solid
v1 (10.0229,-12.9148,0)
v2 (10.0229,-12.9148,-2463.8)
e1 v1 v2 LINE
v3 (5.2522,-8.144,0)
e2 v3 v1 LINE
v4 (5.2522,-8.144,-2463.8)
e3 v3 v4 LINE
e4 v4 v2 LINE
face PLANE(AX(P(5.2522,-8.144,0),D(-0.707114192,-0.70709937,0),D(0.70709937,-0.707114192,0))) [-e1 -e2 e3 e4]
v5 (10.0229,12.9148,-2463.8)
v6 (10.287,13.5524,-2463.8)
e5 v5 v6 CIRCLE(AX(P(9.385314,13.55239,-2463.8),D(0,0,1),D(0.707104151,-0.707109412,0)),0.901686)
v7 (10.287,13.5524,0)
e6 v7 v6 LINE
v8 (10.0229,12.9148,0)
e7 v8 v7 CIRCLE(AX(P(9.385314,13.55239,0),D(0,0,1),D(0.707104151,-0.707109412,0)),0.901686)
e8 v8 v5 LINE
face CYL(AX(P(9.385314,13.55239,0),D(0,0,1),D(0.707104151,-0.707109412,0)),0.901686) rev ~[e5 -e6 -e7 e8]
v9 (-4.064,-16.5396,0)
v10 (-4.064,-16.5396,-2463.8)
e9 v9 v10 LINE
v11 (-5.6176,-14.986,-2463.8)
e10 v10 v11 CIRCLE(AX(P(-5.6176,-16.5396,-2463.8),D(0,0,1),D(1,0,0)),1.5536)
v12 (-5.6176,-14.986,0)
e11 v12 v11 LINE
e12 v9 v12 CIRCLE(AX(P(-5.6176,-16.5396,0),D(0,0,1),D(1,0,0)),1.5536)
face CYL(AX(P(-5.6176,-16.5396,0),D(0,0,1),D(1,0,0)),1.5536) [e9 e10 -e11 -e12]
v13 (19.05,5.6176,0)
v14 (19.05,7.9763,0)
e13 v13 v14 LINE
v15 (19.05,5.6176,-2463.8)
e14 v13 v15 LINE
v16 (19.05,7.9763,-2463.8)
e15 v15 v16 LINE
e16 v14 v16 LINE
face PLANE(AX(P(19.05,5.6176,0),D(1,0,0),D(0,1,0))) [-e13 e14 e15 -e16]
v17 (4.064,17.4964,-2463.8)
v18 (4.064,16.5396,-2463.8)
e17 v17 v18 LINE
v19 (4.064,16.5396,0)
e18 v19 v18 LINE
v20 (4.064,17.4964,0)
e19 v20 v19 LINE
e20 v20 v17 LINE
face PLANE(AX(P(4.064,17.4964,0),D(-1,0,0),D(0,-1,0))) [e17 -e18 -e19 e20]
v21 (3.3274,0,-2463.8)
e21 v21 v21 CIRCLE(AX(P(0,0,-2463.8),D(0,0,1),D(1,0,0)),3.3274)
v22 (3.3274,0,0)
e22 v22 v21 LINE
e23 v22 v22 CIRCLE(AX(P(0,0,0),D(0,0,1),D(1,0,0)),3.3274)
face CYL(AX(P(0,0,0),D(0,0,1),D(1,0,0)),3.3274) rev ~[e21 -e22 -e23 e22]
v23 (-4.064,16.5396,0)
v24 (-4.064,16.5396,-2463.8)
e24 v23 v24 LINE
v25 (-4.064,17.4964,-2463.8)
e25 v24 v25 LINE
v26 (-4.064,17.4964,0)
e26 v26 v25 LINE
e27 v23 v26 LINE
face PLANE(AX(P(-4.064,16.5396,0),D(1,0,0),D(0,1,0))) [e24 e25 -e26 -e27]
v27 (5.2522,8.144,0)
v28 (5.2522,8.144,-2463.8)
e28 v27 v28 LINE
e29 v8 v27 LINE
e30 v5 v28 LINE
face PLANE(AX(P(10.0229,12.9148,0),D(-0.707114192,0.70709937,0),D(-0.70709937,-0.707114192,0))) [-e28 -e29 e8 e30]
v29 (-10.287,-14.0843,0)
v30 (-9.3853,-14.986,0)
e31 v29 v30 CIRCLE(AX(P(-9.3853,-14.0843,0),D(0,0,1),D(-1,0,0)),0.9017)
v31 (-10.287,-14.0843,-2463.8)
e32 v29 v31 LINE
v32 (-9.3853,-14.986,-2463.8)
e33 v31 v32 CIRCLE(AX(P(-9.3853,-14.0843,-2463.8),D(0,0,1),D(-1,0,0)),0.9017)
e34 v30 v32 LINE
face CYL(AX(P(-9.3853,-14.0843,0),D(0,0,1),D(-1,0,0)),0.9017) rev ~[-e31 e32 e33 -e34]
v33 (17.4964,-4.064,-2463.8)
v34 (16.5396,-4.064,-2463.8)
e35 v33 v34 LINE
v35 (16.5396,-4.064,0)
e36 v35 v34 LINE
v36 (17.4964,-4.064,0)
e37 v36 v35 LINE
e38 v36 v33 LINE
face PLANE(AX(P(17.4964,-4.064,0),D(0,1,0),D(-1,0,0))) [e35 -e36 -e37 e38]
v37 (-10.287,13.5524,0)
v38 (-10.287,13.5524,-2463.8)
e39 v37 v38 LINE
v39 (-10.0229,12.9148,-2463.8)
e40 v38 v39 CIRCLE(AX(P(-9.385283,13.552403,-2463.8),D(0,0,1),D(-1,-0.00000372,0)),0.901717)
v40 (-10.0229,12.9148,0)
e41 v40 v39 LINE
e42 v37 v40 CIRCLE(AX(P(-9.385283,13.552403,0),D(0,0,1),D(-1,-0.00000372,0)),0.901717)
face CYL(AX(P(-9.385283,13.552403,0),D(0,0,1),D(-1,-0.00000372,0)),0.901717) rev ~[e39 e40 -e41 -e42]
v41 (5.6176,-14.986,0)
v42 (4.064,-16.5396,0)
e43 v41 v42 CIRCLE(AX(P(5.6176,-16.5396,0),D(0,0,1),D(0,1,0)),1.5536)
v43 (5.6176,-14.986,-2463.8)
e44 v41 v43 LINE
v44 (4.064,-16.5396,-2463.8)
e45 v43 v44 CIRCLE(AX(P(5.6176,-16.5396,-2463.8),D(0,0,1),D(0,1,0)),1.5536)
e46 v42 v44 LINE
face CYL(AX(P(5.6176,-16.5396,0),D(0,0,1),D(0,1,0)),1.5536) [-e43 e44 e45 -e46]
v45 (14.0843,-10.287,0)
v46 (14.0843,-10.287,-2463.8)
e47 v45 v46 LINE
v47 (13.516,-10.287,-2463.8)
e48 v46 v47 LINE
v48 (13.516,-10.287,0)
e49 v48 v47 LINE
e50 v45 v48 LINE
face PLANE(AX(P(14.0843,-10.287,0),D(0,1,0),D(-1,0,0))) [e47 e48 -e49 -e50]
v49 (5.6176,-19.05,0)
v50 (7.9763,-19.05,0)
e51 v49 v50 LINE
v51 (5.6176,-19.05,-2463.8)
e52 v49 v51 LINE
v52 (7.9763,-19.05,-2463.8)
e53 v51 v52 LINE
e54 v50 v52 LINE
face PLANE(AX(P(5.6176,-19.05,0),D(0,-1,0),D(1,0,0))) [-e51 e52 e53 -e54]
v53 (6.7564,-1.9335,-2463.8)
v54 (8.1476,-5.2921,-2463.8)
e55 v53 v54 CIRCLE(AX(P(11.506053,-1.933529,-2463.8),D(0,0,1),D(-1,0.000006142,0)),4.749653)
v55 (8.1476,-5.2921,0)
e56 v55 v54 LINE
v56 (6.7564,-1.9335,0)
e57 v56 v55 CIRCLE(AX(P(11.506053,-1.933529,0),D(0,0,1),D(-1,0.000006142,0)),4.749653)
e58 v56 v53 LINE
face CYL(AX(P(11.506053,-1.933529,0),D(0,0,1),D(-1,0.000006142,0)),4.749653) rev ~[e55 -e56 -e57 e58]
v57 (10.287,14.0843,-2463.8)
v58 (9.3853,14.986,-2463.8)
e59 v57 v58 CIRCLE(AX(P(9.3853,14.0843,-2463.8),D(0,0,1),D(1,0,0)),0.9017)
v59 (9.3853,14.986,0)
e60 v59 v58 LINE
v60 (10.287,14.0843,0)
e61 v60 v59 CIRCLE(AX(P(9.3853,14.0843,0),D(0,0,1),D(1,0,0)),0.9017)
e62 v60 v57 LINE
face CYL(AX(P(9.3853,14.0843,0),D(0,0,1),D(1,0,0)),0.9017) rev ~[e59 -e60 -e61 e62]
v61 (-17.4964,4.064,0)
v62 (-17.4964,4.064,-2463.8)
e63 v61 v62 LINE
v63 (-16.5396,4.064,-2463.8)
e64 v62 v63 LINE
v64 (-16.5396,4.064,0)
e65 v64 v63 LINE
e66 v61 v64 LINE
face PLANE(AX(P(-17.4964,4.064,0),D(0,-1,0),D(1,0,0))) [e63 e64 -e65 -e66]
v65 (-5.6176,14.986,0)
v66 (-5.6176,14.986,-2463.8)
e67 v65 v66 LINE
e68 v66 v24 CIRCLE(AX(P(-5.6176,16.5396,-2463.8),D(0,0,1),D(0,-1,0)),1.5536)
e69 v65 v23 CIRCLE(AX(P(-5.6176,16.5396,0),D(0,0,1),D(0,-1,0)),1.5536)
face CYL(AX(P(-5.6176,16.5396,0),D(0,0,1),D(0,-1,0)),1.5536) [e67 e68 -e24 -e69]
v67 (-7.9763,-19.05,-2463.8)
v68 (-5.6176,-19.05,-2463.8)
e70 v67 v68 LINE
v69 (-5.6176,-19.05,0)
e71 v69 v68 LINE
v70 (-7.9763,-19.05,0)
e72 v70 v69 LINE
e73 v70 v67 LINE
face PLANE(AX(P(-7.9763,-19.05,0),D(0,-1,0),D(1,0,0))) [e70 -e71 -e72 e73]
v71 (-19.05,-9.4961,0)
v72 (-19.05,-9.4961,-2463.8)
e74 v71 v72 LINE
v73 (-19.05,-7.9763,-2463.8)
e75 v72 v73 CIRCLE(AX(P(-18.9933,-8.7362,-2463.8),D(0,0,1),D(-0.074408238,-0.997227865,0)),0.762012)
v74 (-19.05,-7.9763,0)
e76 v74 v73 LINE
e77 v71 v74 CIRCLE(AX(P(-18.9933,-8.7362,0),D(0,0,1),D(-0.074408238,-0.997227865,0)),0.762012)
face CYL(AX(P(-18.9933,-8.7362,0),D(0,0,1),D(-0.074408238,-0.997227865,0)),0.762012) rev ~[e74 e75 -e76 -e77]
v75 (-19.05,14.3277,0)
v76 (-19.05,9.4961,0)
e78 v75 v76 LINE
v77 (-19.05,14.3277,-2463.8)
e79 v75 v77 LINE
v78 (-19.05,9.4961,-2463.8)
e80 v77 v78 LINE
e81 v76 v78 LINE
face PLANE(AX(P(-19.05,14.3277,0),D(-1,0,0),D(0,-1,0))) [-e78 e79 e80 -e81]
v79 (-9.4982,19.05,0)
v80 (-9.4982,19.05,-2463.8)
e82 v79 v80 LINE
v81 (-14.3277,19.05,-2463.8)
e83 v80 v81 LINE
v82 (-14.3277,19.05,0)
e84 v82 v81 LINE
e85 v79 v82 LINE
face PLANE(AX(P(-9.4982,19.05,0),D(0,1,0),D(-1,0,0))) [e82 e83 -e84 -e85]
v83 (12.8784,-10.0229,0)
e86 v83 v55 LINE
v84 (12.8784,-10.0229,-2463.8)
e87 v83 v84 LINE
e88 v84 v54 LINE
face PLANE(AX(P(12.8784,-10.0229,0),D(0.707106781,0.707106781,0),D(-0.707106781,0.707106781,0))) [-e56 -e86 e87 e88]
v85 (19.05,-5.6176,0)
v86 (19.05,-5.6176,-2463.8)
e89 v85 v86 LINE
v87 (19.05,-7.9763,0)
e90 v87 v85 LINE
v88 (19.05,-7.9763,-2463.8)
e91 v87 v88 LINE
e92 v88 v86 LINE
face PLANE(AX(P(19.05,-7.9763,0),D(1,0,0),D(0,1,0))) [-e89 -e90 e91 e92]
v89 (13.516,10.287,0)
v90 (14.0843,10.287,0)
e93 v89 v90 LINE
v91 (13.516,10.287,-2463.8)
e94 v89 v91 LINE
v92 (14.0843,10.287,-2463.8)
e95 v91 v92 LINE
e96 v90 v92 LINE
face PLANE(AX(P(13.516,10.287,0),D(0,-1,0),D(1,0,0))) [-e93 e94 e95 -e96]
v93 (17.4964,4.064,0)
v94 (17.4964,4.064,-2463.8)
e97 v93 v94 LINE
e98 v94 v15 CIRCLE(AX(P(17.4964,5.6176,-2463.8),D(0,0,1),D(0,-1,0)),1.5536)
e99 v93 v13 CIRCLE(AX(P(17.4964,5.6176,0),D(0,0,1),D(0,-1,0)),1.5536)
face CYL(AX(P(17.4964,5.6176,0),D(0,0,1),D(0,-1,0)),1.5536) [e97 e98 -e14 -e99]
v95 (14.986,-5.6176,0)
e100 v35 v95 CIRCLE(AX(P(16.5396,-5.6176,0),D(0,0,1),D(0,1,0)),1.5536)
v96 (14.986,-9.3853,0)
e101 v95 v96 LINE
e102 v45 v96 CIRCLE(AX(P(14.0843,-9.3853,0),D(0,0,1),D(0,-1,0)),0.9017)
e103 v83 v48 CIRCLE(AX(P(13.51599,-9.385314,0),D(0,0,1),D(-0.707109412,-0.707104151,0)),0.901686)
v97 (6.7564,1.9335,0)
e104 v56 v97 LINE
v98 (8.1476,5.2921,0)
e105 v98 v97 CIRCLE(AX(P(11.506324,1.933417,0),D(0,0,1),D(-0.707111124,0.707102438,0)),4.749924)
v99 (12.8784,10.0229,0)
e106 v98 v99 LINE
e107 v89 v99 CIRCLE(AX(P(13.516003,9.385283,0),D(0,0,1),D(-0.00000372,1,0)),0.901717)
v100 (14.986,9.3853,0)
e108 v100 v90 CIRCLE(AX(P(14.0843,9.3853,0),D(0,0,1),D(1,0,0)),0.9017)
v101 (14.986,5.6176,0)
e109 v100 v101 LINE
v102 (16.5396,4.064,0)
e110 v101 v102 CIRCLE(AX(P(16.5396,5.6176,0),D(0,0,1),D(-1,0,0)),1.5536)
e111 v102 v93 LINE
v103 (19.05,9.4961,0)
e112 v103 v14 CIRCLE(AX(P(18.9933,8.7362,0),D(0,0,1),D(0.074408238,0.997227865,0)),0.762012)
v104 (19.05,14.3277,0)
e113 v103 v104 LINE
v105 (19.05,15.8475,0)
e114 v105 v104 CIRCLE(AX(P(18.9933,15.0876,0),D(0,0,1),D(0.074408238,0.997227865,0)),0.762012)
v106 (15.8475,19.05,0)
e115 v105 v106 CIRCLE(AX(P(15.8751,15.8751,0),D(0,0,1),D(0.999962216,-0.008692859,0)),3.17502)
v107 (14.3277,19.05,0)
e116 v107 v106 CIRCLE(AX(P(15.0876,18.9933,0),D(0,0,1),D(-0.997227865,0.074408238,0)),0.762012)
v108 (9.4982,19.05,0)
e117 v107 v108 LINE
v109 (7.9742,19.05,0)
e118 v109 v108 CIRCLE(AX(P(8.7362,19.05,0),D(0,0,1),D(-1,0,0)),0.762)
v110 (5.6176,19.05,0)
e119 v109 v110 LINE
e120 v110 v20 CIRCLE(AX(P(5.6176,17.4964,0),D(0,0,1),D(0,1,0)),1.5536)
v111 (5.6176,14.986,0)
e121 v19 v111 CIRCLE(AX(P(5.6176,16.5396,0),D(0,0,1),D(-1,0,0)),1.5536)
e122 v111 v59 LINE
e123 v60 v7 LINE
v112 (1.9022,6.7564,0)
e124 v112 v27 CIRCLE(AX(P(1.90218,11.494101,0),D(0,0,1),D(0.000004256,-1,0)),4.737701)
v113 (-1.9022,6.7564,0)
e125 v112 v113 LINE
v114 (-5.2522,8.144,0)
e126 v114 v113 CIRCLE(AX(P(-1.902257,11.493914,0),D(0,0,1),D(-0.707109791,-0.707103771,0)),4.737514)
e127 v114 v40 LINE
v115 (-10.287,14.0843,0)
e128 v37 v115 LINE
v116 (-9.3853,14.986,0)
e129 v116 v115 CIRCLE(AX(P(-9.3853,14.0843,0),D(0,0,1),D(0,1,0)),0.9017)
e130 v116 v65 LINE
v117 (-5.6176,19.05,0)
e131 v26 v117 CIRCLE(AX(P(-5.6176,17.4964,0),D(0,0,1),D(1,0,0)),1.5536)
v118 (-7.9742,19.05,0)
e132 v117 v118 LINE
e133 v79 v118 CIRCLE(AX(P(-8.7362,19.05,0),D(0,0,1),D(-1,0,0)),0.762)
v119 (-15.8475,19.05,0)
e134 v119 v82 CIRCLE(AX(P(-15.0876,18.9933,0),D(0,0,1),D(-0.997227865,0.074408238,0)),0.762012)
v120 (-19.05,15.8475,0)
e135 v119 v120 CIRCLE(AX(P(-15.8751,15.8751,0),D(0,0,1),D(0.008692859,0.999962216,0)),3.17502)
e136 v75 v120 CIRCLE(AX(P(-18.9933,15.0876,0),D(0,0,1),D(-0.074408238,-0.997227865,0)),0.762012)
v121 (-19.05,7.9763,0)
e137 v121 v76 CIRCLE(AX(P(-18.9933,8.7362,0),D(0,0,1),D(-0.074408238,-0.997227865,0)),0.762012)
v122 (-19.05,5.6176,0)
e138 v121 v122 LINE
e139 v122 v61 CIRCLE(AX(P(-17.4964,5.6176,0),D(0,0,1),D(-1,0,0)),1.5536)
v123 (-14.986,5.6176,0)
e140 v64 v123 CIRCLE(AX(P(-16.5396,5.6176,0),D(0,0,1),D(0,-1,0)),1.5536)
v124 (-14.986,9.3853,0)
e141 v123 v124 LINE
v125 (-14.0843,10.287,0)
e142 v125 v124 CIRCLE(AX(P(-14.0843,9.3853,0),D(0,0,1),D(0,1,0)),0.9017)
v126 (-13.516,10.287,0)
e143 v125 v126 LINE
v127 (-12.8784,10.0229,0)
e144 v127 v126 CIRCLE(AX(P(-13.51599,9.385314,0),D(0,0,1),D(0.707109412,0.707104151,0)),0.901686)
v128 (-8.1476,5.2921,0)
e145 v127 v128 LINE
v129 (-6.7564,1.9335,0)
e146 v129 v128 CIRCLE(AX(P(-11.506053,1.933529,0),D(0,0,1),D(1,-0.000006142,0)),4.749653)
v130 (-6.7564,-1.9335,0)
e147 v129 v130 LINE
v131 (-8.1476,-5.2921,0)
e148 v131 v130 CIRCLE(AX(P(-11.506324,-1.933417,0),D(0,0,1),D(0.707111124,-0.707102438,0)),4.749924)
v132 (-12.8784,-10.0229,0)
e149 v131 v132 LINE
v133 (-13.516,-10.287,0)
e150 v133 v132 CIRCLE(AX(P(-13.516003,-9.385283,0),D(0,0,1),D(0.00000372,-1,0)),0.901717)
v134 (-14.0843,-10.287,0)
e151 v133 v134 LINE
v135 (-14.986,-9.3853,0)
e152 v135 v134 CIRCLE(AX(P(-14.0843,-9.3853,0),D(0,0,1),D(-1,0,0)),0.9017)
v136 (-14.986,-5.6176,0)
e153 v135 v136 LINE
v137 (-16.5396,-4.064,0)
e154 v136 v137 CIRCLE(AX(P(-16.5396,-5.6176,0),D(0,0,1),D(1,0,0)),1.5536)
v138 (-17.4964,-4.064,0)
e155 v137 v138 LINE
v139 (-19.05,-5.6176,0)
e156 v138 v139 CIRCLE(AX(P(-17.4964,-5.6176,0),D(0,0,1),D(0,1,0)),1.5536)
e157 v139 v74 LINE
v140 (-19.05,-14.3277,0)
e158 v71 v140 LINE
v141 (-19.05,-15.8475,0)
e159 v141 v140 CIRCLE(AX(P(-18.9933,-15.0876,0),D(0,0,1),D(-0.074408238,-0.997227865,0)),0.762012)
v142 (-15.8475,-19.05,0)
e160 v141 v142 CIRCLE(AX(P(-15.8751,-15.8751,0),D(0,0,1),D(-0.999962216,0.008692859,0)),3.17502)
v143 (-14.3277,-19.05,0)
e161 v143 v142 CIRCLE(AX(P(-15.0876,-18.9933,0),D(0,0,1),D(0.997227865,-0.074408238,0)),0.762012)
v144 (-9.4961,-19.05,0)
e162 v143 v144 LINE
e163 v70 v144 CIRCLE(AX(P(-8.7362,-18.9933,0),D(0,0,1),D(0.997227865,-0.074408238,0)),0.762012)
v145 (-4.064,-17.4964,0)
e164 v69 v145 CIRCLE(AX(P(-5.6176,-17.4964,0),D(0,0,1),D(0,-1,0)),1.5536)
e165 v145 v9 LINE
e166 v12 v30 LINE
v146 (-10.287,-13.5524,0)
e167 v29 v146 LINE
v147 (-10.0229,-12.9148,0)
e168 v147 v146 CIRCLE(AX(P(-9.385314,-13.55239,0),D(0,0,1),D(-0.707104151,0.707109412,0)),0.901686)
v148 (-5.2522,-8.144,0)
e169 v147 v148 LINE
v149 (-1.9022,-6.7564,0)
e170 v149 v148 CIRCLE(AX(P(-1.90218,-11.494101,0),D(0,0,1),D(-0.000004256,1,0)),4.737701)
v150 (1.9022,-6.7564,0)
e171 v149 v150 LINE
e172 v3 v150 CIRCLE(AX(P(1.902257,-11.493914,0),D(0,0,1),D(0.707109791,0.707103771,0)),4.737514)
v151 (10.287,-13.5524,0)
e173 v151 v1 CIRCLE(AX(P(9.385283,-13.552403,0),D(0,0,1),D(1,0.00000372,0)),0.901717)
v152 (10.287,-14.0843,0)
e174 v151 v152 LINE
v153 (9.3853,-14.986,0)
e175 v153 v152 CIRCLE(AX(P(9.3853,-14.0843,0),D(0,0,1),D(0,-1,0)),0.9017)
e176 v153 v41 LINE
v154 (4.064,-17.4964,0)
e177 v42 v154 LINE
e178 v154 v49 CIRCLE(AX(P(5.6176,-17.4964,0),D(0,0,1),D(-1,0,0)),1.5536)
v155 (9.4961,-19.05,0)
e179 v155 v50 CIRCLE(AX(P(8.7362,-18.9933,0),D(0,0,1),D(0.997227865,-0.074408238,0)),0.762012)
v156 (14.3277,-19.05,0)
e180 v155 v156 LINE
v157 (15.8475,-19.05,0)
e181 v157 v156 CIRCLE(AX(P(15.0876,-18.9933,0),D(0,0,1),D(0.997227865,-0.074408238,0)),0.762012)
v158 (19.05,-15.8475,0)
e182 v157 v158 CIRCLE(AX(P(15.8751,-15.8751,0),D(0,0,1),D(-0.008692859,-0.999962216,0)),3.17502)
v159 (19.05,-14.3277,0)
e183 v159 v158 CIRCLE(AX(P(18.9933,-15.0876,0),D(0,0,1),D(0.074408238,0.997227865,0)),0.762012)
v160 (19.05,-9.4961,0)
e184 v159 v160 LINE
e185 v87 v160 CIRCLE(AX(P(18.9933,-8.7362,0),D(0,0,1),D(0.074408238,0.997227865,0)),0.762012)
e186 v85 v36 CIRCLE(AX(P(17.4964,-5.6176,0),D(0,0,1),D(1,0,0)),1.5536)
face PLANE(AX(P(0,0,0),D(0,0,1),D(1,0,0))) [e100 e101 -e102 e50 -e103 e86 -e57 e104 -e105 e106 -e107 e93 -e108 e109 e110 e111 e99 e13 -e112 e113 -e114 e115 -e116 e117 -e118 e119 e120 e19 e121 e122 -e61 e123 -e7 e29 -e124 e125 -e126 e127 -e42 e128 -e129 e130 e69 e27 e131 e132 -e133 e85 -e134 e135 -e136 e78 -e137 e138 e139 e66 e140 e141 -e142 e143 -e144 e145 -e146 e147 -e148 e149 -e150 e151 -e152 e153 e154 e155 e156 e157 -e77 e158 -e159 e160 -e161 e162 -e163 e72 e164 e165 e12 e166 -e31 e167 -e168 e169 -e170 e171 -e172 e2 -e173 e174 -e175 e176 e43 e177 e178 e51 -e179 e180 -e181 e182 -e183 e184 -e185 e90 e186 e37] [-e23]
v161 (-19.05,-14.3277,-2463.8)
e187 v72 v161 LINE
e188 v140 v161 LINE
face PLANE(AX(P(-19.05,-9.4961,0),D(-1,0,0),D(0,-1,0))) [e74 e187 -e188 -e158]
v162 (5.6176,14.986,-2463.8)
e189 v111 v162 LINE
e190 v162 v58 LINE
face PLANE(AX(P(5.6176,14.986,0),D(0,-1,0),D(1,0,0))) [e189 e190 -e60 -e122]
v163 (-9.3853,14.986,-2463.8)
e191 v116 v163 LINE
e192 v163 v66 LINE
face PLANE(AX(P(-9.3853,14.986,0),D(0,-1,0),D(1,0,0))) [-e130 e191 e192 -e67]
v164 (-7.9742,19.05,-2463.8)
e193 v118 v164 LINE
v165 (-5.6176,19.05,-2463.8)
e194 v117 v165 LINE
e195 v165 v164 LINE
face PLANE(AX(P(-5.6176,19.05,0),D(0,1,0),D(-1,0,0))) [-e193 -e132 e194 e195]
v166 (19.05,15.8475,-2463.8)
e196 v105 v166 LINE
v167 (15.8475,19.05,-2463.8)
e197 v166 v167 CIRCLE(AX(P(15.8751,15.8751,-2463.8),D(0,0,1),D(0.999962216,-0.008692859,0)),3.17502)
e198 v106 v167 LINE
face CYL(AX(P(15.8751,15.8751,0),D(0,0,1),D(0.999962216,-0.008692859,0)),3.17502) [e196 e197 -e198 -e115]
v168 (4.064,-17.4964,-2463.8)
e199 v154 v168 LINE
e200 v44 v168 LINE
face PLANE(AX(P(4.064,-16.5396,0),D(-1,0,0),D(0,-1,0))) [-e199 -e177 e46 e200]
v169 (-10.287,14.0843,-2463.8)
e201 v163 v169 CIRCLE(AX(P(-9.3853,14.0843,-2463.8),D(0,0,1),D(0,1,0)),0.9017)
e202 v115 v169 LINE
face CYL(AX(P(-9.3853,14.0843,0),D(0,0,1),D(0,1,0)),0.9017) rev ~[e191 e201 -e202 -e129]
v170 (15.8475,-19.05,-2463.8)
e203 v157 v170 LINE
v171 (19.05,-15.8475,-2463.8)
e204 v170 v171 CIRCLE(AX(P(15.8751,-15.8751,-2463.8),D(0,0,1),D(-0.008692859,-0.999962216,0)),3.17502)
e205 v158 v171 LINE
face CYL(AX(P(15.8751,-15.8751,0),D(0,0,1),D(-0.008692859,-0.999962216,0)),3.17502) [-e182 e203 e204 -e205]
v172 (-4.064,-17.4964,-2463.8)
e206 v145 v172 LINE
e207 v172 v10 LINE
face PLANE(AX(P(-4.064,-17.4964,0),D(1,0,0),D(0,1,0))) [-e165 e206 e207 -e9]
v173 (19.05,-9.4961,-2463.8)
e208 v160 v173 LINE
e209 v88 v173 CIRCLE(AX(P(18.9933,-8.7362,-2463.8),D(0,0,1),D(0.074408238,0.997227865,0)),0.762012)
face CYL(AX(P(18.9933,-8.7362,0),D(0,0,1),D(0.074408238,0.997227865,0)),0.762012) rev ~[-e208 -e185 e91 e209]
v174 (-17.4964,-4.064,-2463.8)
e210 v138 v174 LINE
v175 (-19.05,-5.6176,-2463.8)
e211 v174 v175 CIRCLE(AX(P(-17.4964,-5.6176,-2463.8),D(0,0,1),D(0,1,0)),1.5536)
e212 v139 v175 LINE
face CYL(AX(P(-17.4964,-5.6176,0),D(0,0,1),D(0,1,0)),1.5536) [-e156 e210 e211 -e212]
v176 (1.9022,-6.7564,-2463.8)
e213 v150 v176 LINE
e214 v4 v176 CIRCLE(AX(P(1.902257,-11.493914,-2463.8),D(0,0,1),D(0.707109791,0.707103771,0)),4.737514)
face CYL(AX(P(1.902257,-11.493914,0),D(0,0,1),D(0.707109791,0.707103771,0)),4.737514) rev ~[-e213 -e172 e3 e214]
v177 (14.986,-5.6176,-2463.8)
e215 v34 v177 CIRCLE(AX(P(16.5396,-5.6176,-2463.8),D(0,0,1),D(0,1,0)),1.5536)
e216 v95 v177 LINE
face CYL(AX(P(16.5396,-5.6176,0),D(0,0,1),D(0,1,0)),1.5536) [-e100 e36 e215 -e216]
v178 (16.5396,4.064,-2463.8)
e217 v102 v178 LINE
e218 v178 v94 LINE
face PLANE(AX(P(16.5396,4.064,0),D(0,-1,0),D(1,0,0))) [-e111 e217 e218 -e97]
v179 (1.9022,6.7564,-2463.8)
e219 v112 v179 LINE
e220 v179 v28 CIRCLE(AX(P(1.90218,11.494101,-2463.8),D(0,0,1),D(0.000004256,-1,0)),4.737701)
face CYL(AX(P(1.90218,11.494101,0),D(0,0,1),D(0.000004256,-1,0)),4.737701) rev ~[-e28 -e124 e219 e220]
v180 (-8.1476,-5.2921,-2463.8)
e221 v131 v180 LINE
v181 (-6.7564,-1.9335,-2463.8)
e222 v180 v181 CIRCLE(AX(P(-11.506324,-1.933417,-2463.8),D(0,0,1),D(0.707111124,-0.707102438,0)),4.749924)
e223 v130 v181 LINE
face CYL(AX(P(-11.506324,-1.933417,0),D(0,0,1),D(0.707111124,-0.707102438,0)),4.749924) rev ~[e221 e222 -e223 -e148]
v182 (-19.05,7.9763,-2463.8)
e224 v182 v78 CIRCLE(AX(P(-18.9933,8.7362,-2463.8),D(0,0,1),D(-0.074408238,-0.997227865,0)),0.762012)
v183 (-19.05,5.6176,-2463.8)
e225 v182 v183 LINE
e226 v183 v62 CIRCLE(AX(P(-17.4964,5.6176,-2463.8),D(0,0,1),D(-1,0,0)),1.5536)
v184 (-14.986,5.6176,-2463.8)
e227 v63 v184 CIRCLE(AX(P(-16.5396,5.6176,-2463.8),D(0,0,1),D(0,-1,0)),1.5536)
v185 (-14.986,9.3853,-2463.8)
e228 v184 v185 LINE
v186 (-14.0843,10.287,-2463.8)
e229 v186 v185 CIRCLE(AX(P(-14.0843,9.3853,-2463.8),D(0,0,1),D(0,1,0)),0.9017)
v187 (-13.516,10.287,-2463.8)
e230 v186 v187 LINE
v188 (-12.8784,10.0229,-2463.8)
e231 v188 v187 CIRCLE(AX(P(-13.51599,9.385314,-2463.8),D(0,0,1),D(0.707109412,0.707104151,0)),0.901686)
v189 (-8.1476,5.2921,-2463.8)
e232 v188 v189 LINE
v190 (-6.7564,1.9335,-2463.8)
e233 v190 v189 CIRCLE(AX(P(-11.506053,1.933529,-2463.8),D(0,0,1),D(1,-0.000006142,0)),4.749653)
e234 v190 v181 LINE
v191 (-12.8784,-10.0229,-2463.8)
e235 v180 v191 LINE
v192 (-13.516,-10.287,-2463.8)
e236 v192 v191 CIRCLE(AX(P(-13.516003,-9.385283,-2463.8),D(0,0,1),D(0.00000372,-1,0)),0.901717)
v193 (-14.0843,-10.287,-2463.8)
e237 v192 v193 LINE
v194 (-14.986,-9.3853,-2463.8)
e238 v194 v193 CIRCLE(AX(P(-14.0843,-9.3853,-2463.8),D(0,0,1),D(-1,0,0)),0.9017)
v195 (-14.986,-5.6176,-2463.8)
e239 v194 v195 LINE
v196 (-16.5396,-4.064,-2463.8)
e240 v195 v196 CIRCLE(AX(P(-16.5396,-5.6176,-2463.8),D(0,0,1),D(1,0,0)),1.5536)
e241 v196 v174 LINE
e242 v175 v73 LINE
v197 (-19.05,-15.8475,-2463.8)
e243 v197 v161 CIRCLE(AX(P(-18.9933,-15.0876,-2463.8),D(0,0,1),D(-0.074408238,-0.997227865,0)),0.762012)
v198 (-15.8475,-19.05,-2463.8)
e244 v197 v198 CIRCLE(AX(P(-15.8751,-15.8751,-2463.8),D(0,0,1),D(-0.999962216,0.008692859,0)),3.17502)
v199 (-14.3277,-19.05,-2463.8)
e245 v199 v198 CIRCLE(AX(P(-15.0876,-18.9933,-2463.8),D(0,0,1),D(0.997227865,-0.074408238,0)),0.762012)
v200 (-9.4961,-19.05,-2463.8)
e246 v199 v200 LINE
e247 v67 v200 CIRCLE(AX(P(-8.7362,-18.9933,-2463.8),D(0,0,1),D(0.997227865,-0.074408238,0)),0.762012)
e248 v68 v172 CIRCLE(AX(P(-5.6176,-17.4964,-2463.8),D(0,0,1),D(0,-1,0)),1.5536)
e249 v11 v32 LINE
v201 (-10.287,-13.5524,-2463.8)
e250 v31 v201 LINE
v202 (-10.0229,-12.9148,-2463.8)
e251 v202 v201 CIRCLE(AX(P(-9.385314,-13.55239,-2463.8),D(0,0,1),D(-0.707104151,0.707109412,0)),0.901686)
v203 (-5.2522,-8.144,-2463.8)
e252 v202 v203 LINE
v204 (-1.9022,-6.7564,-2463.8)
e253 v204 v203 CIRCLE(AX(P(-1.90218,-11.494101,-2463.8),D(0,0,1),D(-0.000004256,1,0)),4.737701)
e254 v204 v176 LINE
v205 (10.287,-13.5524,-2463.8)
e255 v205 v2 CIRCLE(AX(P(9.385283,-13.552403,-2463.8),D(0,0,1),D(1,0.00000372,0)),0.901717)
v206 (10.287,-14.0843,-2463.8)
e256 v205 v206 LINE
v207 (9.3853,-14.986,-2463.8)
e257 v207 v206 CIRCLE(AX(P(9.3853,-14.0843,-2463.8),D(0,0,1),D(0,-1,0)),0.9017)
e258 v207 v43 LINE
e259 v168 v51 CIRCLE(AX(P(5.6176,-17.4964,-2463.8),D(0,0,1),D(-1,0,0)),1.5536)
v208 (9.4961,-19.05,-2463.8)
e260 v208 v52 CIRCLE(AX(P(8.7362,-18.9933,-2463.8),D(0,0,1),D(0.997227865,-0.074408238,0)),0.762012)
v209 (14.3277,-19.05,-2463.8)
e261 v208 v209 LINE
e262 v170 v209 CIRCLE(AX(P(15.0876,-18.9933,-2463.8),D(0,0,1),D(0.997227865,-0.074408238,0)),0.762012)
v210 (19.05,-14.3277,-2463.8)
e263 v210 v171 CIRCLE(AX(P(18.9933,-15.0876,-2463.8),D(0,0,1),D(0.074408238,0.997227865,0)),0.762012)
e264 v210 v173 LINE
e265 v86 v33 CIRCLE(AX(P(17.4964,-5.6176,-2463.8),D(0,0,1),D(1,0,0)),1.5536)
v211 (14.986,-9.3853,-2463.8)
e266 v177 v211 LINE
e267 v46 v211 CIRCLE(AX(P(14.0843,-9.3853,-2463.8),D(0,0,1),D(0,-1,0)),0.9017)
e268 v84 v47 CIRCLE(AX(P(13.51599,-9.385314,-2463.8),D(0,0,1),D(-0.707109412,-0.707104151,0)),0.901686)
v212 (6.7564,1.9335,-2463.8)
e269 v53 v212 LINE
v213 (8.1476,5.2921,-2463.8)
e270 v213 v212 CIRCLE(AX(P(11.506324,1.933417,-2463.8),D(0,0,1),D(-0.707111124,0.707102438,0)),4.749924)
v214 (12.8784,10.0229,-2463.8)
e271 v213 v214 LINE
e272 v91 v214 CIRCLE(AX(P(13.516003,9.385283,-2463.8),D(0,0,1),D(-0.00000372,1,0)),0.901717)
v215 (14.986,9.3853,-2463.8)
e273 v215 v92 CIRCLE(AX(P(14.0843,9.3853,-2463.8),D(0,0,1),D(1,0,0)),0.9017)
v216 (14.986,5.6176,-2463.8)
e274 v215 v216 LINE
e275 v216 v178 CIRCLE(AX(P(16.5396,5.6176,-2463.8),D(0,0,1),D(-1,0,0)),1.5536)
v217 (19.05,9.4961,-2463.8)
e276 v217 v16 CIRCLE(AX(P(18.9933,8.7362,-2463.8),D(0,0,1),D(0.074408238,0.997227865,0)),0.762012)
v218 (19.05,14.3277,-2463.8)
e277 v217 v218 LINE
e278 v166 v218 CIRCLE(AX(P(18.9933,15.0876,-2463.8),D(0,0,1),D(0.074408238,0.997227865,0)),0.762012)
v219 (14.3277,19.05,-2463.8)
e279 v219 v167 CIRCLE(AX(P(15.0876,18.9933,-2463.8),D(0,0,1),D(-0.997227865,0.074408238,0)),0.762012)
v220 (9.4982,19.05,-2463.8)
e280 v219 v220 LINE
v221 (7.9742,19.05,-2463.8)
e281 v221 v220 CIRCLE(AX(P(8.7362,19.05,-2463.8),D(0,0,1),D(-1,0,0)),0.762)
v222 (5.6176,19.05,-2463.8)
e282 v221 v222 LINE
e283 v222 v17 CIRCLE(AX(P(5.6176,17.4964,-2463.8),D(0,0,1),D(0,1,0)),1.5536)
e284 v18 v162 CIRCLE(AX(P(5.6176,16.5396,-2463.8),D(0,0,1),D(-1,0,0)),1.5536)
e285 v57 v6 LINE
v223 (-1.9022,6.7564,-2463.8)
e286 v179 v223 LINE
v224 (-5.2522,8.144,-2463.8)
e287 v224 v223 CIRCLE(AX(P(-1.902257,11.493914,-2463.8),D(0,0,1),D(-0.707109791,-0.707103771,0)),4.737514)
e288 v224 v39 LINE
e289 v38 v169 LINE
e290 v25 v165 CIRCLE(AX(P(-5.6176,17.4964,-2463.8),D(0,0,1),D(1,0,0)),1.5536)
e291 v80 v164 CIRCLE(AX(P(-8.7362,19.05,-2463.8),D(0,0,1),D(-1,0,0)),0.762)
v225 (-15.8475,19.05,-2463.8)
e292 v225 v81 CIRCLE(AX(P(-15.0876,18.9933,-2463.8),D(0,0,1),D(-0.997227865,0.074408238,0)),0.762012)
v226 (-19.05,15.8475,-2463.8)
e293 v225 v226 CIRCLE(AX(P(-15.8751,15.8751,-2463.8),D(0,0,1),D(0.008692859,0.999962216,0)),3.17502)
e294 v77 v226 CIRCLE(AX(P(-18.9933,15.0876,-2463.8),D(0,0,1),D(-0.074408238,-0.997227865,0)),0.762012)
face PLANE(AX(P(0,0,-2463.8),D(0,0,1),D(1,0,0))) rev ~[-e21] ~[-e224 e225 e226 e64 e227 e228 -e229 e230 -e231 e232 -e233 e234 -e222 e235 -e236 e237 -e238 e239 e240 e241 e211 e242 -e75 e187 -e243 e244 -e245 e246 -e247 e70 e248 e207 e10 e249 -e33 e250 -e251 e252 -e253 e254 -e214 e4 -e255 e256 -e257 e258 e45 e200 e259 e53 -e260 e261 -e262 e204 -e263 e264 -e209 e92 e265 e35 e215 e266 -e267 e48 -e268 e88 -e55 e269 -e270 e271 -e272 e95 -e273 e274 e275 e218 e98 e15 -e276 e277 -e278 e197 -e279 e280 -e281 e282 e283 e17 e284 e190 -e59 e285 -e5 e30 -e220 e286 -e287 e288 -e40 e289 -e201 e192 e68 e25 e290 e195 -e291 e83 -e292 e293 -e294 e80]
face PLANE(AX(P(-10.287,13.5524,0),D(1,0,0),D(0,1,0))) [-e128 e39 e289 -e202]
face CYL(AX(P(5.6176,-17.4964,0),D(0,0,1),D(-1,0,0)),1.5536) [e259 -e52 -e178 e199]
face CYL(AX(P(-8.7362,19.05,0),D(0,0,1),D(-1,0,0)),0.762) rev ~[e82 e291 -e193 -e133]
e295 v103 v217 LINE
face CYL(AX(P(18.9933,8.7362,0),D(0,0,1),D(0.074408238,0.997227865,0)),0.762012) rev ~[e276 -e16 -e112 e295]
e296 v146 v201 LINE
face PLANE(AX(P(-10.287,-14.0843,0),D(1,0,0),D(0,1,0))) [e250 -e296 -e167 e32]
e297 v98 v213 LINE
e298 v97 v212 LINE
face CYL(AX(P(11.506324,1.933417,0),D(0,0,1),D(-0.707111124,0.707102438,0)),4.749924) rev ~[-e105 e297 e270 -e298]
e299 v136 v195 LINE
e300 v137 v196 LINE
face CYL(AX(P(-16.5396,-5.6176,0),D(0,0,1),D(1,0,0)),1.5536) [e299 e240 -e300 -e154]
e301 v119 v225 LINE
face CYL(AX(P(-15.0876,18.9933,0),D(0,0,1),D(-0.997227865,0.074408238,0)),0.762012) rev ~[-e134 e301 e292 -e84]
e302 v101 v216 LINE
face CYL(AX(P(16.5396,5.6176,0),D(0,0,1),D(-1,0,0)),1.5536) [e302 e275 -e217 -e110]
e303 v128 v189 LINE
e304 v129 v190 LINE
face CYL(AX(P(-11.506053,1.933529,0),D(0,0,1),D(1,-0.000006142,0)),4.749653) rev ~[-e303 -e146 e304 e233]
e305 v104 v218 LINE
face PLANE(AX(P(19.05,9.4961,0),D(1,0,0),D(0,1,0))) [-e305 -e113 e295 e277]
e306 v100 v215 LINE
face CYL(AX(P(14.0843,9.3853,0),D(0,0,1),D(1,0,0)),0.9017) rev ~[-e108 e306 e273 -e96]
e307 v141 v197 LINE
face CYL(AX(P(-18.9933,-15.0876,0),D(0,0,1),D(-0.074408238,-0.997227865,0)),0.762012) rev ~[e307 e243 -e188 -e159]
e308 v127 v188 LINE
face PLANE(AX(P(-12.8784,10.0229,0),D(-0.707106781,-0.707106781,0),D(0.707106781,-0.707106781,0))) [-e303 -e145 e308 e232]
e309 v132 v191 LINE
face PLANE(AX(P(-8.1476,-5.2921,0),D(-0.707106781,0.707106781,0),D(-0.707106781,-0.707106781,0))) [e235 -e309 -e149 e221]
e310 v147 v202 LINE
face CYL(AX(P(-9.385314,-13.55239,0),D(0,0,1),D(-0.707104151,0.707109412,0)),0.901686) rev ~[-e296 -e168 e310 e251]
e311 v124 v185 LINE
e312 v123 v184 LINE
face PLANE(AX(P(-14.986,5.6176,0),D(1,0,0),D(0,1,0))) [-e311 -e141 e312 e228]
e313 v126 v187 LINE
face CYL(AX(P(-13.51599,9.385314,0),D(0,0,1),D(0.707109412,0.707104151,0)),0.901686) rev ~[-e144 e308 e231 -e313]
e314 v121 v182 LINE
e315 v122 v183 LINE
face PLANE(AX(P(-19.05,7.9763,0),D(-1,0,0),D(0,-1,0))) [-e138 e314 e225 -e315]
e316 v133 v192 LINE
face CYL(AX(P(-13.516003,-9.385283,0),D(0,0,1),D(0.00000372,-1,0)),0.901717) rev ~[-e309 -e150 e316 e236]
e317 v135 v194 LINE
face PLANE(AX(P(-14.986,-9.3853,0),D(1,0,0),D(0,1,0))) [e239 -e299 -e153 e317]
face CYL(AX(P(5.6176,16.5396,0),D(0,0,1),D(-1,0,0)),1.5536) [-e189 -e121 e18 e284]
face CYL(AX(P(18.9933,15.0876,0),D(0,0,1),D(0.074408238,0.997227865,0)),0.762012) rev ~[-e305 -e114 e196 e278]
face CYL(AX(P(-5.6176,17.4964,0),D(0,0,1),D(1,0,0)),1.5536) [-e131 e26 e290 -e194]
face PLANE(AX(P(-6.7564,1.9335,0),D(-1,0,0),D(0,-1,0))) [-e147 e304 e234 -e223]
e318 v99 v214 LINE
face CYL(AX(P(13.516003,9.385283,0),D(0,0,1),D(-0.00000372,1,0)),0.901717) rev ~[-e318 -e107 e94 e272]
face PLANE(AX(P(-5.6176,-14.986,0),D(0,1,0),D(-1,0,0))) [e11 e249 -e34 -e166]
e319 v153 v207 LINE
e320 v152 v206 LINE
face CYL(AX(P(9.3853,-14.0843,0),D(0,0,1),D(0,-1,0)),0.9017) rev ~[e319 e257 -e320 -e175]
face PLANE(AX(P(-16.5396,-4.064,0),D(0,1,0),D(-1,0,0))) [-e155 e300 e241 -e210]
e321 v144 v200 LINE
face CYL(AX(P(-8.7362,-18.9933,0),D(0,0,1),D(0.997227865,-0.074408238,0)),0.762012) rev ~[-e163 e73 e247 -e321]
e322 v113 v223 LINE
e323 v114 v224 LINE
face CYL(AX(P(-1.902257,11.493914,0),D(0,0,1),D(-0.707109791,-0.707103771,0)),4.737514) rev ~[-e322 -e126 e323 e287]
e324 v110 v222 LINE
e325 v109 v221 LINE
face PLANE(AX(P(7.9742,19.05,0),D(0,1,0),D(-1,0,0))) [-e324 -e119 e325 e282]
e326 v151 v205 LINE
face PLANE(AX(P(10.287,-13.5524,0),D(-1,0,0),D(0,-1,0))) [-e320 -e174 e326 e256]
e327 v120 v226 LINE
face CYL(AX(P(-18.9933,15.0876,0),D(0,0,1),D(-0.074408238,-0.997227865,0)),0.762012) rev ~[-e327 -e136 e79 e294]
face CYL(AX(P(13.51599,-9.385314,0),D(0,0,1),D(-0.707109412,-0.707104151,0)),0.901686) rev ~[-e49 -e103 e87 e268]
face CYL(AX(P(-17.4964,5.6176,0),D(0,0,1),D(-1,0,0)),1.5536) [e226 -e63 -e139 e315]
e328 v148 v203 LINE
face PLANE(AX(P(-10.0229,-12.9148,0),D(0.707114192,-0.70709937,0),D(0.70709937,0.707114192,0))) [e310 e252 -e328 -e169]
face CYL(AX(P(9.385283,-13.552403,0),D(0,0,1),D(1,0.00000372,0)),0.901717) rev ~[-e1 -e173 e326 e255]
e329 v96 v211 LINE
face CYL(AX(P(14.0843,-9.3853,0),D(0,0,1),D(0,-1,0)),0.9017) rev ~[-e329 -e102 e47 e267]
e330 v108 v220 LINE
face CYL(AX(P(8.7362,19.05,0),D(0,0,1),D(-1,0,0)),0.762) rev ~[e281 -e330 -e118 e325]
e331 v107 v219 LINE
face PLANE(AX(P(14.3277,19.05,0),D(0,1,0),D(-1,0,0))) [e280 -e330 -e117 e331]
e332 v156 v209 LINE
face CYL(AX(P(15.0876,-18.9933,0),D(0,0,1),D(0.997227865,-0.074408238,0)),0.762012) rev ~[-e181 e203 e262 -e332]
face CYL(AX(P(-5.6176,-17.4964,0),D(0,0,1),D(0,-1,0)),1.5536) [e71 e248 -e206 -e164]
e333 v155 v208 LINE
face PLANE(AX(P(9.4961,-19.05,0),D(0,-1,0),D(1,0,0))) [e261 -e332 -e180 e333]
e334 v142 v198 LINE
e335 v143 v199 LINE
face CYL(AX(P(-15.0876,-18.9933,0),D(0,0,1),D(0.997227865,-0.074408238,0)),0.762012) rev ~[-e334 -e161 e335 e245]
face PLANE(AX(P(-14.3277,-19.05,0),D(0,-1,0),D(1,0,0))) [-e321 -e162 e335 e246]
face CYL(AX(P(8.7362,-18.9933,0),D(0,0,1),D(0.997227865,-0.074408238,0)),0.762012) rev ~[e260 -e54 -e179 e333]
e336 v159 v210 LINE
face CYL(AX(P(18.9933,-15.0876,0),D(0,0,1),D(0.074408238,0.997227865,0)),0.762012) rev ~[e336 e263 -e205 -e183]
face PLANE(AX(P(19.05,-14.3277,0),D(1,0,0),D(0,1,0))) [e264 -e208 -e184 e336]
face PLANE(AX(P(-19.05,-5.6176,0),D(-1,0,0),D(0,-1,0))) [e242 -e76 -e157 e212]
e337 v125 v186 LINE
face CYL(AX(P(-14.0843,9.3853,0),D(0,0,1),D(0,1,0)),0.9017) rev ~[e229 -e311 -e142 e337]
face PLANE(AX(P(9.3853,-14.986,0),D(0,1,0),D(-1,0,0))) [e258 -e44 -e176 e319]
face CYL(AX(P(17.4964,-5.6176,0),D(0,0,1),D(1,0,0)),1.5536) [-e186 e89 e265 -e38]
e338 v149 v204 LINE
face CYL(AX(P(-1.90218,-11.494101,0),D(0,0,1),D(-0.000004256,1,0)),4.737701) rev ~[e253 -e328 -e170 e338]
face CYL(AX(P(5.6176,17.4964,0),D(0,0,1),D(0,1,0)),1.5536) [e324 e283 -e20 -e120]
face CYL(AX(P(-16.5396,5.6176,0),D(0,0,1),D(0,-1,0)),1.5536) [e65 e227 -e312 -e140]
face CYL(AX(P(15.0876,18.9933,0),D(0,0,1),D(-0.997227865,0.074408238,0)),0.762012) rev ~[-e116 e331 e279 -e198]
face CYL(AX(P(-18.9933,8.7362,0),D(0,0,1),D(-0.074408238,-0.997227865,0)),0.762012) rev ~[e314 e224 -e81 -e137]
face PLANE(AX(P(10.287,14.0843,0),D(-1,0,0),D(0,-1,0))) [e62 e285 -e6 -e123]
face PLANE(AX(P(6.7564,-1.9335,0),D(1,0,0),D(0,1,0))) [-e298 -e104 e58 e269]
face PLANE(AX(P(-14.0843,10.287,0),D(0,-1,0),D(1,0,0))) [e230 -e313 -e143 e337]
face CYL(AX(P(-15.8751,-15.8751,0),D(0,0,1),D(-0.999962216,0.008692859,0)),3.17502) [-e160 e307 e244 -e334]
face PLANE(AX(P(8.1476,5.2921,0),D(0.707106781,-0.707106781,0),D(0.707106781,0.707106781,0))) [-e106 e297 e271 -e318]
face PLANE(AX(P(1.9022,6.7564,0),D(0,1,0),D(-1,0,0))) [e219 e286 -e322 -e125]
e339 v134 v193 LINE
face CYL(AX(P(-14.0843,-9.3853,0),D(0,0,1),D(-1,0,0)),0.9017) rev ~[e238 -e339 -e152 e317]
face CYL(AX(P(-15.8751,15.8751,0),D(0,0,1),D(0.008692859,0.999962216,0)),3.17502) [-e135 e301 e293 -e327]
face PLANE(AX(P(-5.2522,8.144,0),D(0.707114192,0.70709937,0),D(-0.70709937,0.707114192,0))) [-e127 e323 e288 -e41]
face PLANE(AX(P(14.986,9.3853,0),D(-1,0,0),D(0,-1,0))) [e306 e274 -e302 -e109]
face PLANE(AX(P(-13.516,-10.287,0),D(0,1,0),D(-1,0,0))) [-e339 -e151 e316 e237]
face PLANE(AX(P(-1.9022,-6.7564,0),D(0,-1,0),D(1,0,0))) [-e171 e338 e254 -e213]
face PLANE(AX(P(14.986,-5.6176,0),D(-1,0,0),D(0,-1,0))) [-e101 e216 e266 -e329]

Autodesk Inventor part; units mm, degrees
sketch "Sketch_1" plane through (0, 0, 0) normal (0, 0, 1) x (1, 0, 0)
  arc A0 (-15.8475, 19.05) -> (-19.05, 15.8475) centre (-15.8751, 15.8751) ccw
  arc A1 (-19.05, 14.3277) -> (-19.05, 15.8475) centre (-18.9933, 15.0876) ccw
  line L0 (-19.05, 14.3277) -> (-19.05, 9.4961)
  arc A2 (-19.05, 7.9763) -> (-19.05, 9.4961) centre (-18.9933, 8.7362) ccw
  line L1 (-19.05, 7.9763) -> (-19.05, 5.6176)
  arc A3 (-19.05, 5.6176) -> (-17.4964, 4.064) centre (-17.4964, 5.6176) ccw
  line L2 (-17.4964, 4.064) -> (-16.5396, 4.064)
  arc A4 (-16.5396, 4.064) -> (-14.986, 5.6176) centre (-16.5396, 5.6176) ccw
  line L3 (-14.986, 5.6176) -> (-14.986, 9.3853)
  arc A5 (-14.0843, 10.287) -> (-14.986, 9.3853) centre (-14.0843, 9.3853) ccw
  line L4 (-14.0843, 10.287) -> (-13.516, 10.287)
  arc A6 (-12.8784, 10.0229) -> (-13.516, 10.287) centre (-13.516, 9.3853) ccw
  line L5 (-12.8784, 10.0229) -> (-8.1476, 5.2921)
  arc A7 (-6.7564, 1.9335) -> (-8.1476, 5.2921) centre (-11.5062, 1.9335) ccw
  line L6 (-6.7564, 1.9335) -> (-6.7564, -1.9335)
  arc A8 (-8.1476, -5.2921) -> (-6.7564, -1.9335) centre (-11.5062, -1.9335) ccw
  line L7 (-8.1476, -5.2921) -> (-12.8784, -10.0229)
  arc A9 (-13.516, -10.287) -> (-12.8784, -10.0229) centre (-13.516, -9.3853) ccw
  line L8 (-13.516, -10.287) -> (-14.0843, -10.287)
  arc A10 (-14.986, -9.3853) -> (-14.0843, -10.287) centre (-14.0843, -9.3853) ccw
  line L9 (-14.986, -9.3853) -> (-14.986, -5.6176)
  arc A11 (-14.986, -5.6176) -> (-16.5396, -4.064) centre (-16.5396, -5.6176) ccw
  line L10 (-16.5396, -4.064) -> (-17.4964, -4.064)
  arc A12 (-17.4964, -4.064) -> (-19.05, -5.6176) centre (-17.4964, -5.6176) ccw
  line L11 (-19.05, -5.6176) -> (-19.05, -7.9763)
  arc A13 (-19.05, -9.4961) -> (-19.05, -7.9763) centre (-18.9933, -8.7362) ccw
  line L12 (-19.05, -9.4961) -> (-19.05, -14.3277)
  arc A14 (-19.05, -15.8475) -> (-19.05, -14.3277) centre (-18.9933, -15.0876) ccw
  arc A15 (-19.05, -15.8475) -> (-15.8475, -19.05) centre (-15.8751, -15.8751) ccw
  arc A16 (-14.3277, -19.05) -> (-15.8475, -19.05) centre (-15.0876, -18.9933) ccw
  line L13 (-14.3277, -19.05) -> (-9.4961, -19.05)
  arc A17 (-7.9763, -19.05) -> (-9.4961, -19.05) centre (-8.7362, -18.9933) ccw
  line L14 (-7.9763, -19.05) -> (-5.6176, -19.05)
  arc A18 (-5.6176, -19.05) -> (-4.064, -17.4964) centre (-5.6176, -17.4964) ccw
  line L15 (-4.064, -17.4964) -> (-4.064, -16.5396)
  arc A19 (-4.064, -16.5396) -> (-5.6176, -14.986) centre (-5.6176, -16.5396) ccw
  line L16 (-5.6176, -14.986) -> (-9.3853, -14.986)
  arc A20 (-10.287, -14.0843) -> (-9.3853, -14.986) centre (-9.3853, -14.0843) ccw
  line L17 (-10.287, -14.0843) -> (-10.287, -13.5524)
  arc A21 (-10.0229, -12.9148) -> (-10.287, -13.5524) centre (-9.3853, -13.5524) ccw
  line L18 (-10.0229, -12.9148) -> (-5.2522, -8.144)
  arc A22 (-1.9022, -6.7564) -> (-5.2522, -8.144) centre (-1.9022, -11.494) ccw
  line L19 (-1.9022, -6.7564) -> (1.9022, -6.7564)
  arc A23 (5.2522, -8.144) -> (1.9022, -6.7564) centre (1.9022, -11.494) ccw
  line L20 (5.2522, -8.144) -> (10.0229, -12.9148)
  arc A24 (10.287, -13.5524) -> (10.0229, -12.9148) centre (9.3853, -13.5524) ccw
  line L21 (10.287, -13.5524) -> (10.287, -14.0843)
  arc A25 (9.3853, -14.986) -> (10.287, -14.0843) centre (9.3853, -14.0843) ccw
  line L22 (9.3853, -14.986) -> (5.6176, -14.986)
  arc A26 (5.6176, -14.986) -> (4.064, -16.5396) centre (5.6176, -16.5396) ccw
  line L23 (4.064, -16.5396) -> (4.064, -17.4964)
  arc A27 (4.064, -17.4964) -> (5.6176, -19.05) centre (5.6176, -17.4964) ccw
  line L24 (5.6176, -19.05) -> (7.9763, -19.05)
  arc A28 (9.4961, -19.05) -> (7.9763, -19.05) centre (8.7362, -18.9933) ccw
  line L25 (9.4961, -19.05) -> (14.3277, -19.05)
  arc A29 (15.8475, -19.05) -> (14.3277, -19.05) centre (15.0876, -18.9933) ccw
  arc A30 (15.8475, -19.05) -> (19.05, -15.8475) centre (15.8751, -15.8751) ccw
  arc A31 (19.05, -14.3277) -> (19.05, -15.8475) centre (18.9933, -15.0876) ccw
  line L26 (19.05, -14.3277) -> (19.05, -9.4961)
  arc A32 (19.05, -7.9763) -> (19.05, -9.4961) centre (18.9933, -8.7362) ccw
  line L27 (19.05, -7.9763) -> (19.05, -5.6176)
  arc A33 (19.05, -5.6176) -> (17.4964, -4.064) centre (17.4964, -5.6176) ccw
  line L28 (17.4964, -4.064) -> (16.5396, -4.064)
  arc A34 (16.5396, -4.064) -> (14.986, -5.6176) centre (16.5396, -5.6176) ccw
  line L29 (14.986, -5.6176) -> (14.986, -9.3853)
  arc A35 (14.0843, -10.287) -> (14.986, -9.3853) centre (14.0843, -9.3853) ccw
  line L30 (14.0843, -10.287) -> (13.516, -10.287)
  arc A36 (12.8784, -10.0229) -> (13.516, -10.287) centre (13.516, -9.3853) ccw
  line L31 (12.8784, -10.0229) -> (8.1476, -5.2921)
  arc A37 (6.7564, -1.9335) -> (8.1476, -5.2921) centre (11.5062, -1.9335) ccw
  line L32 (6.7564, -1.9335) -> (6.7564, 1.9335)
  arc A38 (8.1476, 5.2921) -> (6.7564, 1.9335) centre (11.5062, 1.9335) ccw
  line L33 (8.1476, 5.2921) -> (12.8784, 10.0229)
  arc A39 (13.516, 10.287) -> (12.8784, 10.0229) centre (13.516, 9.3853) ccw
  line L34 (13.516, 10.287) -> (14.0843, 10.287)
  arc A40 (14.986, 9.3853) -> (14.0843, 10.287) centre (14.0843, 9.3853) ccw
  line L35 (14.986, 9.3853) -> (14.986, 5.6176)
  arc A41 (14.986, 5.6176) -> (16.5396, 4.064) centre (16.5396, 5.6176) ccw
  line L36 (16.5396, 4.064) -> (17.4964, 4.064)
  arc A42 (17.4964, 4.064) -> (19.05, 5.6176) centre (17.4964, 5.6176) ccw
  line L37 (19.05, 5.6176) -> (19.05, 7.9763)
  arc A43 (19.05, 9.4961) -> (19.05, 7.9763) centre (18.9933, 8.7362) ccw
  line L38 (19.05, 9.4961) -> (19.05, 14.3277)
  arc A44 (19.05, 15.8475) -> (19.05, 14.3277) centre (18.9933, 15.0876) ccw
  arc A45 (19.05, 15.8475) -> (15.8475, 19.05) centre (15.8751, 15.8751) ccw
  arc A46 (14.3277, 19.05) -> (15.8475, 19.05) centre (15.0876, 18.9933) ccw
  line L39 (14.3277, 19.05) -> (9.4982, 19.05)
  arc A47 (7.9742, 19.05) -> (9.4982, 19.05) centre (8.7362, 19.05) ccw
  line L40 (7.9742, 19.05) -> (5.6176, 19.05)
  arc A48 (5.6176, 19.05) -> (4.064, 17.4964) centre (5.6176, 17.4964) ccw
  line L41 (4.064, 17.4964) -> (4.064, 16.5396)
  arc A49 (4.064, 16.5396) -> (5.6176, 14.986) centre (5.6176, 16.5396) ccw
  line L42 (5.6176, 14.986) -> (9.3853, 14.986)
  arc A50 (10.287, 14.0843) -> (9.3853, 14.986) centre (9.3853, 14.0843) ccw
  line L43 (10.287, 14.0843) -> (10.287, 13.5524)
  arc A51 (10.0229, 12.9148) -> (10.287, 13.5524) centre (9.3853, 13.5524) ccw
  line L44 (10.0229, 12.9148) -> (5.2522, 8.144)
  arc A52 (1.9022, 6.7564) -> (5.2522, 8.144) centre (1.9022, 11.494) ccw
  line L45 (1.9022, 6.7564) -> (-1.9022, 6.7564)
  arc A53 (-5.2522, 8.144) -> (-1.9022, 6.7564) centre (-1.9022, 11.494) ccw
  line L46 (-5.2522, 8.144) -> (-10.0229, 12.9148)
  arc A54 (-10.287, 13.5524) -> (-10.0229, 12.9148) centre (-9.3853, 13.5524) ccw
  line L47 (-10.287, 13.5524) -> (-10.287, 14.0843)
  arc A55 (-9.3853, 14.986) -> (-10.287, 14.0843) centre (-9.3853, 14.0843) ccw
  line L48 (-9.3853, 14.986) -> (-5.6176, 14.986)
  arc A56 (-5.6176, 14.986) -> (-4.064, 16.5396) centre (-5.6176, 16.5396) ccw
  line L49 (-4.064, 16.5396) -> (-4.064, 17.4964)
  arc A57 (-4.064, 17.4964) -> (-5.6176, 19.05) centre (-5.6176, 17.4964) ccw
  line L50 (-5.6176, 19.05) -> (-7.9742, 19.05)
  arc A58 (-9.4982, 19.05) -> (-7.9742, 19.05) centre (-8.7362, 19.05) ccw
  line L51 (-9.4982, 19.05) -> (-14.3277, 19.05)
  arc A59 (-15.8475, 19.05) -> (-14.3277, 19.05) centre (-15.0876, 18.9933) ccw
  circle A60 centre (0, 0) radius 3.3274
extrude "Extrusion1" add sketch "Sketch_1" against normal blind 2463.8
ref_plane "b1_XY" through (-19.05, 0, -1231.9) normal (1, 0, 0) x (0, 0, -1)
ref_plane "b1_YZ" through (-19.05, 0, -1231.9) normal (0, 0, -1) x (0, 1, 0)
ref_plane "b1_ZX" through (-19.05, 0, -1231.9) normal (0, 1, 0) x (1, 0, 0)
ref_plane "b2_XY" through (19.05, 0, -1231.9) normal (1, 0, 0) x (0, 0, -1)
ref_plane "b2_YZ" through (19.05, 0, -1231.9) normal (0, 0, -1) x (0, 1, 0)
ref_plane "b2_ZX" through (19.05, 0, -1231.9) normal (0, 1, 0) x (1, 0, 0)
ref_plane "profile1515_XY" through (0, 0, -1231.9) normal (0, 0, 1) x (1, 0, 0)
ref_plane "profile1515_YZ" through (0, 0, -1231.9) normal (1, 0, 0) x (0, 1, 0)
ref_plane "profile1515_ZX" through (0, 0, -1231.9) normal (0, 1, 0) x (0, 0, 1)
properties part number "1515-97"
